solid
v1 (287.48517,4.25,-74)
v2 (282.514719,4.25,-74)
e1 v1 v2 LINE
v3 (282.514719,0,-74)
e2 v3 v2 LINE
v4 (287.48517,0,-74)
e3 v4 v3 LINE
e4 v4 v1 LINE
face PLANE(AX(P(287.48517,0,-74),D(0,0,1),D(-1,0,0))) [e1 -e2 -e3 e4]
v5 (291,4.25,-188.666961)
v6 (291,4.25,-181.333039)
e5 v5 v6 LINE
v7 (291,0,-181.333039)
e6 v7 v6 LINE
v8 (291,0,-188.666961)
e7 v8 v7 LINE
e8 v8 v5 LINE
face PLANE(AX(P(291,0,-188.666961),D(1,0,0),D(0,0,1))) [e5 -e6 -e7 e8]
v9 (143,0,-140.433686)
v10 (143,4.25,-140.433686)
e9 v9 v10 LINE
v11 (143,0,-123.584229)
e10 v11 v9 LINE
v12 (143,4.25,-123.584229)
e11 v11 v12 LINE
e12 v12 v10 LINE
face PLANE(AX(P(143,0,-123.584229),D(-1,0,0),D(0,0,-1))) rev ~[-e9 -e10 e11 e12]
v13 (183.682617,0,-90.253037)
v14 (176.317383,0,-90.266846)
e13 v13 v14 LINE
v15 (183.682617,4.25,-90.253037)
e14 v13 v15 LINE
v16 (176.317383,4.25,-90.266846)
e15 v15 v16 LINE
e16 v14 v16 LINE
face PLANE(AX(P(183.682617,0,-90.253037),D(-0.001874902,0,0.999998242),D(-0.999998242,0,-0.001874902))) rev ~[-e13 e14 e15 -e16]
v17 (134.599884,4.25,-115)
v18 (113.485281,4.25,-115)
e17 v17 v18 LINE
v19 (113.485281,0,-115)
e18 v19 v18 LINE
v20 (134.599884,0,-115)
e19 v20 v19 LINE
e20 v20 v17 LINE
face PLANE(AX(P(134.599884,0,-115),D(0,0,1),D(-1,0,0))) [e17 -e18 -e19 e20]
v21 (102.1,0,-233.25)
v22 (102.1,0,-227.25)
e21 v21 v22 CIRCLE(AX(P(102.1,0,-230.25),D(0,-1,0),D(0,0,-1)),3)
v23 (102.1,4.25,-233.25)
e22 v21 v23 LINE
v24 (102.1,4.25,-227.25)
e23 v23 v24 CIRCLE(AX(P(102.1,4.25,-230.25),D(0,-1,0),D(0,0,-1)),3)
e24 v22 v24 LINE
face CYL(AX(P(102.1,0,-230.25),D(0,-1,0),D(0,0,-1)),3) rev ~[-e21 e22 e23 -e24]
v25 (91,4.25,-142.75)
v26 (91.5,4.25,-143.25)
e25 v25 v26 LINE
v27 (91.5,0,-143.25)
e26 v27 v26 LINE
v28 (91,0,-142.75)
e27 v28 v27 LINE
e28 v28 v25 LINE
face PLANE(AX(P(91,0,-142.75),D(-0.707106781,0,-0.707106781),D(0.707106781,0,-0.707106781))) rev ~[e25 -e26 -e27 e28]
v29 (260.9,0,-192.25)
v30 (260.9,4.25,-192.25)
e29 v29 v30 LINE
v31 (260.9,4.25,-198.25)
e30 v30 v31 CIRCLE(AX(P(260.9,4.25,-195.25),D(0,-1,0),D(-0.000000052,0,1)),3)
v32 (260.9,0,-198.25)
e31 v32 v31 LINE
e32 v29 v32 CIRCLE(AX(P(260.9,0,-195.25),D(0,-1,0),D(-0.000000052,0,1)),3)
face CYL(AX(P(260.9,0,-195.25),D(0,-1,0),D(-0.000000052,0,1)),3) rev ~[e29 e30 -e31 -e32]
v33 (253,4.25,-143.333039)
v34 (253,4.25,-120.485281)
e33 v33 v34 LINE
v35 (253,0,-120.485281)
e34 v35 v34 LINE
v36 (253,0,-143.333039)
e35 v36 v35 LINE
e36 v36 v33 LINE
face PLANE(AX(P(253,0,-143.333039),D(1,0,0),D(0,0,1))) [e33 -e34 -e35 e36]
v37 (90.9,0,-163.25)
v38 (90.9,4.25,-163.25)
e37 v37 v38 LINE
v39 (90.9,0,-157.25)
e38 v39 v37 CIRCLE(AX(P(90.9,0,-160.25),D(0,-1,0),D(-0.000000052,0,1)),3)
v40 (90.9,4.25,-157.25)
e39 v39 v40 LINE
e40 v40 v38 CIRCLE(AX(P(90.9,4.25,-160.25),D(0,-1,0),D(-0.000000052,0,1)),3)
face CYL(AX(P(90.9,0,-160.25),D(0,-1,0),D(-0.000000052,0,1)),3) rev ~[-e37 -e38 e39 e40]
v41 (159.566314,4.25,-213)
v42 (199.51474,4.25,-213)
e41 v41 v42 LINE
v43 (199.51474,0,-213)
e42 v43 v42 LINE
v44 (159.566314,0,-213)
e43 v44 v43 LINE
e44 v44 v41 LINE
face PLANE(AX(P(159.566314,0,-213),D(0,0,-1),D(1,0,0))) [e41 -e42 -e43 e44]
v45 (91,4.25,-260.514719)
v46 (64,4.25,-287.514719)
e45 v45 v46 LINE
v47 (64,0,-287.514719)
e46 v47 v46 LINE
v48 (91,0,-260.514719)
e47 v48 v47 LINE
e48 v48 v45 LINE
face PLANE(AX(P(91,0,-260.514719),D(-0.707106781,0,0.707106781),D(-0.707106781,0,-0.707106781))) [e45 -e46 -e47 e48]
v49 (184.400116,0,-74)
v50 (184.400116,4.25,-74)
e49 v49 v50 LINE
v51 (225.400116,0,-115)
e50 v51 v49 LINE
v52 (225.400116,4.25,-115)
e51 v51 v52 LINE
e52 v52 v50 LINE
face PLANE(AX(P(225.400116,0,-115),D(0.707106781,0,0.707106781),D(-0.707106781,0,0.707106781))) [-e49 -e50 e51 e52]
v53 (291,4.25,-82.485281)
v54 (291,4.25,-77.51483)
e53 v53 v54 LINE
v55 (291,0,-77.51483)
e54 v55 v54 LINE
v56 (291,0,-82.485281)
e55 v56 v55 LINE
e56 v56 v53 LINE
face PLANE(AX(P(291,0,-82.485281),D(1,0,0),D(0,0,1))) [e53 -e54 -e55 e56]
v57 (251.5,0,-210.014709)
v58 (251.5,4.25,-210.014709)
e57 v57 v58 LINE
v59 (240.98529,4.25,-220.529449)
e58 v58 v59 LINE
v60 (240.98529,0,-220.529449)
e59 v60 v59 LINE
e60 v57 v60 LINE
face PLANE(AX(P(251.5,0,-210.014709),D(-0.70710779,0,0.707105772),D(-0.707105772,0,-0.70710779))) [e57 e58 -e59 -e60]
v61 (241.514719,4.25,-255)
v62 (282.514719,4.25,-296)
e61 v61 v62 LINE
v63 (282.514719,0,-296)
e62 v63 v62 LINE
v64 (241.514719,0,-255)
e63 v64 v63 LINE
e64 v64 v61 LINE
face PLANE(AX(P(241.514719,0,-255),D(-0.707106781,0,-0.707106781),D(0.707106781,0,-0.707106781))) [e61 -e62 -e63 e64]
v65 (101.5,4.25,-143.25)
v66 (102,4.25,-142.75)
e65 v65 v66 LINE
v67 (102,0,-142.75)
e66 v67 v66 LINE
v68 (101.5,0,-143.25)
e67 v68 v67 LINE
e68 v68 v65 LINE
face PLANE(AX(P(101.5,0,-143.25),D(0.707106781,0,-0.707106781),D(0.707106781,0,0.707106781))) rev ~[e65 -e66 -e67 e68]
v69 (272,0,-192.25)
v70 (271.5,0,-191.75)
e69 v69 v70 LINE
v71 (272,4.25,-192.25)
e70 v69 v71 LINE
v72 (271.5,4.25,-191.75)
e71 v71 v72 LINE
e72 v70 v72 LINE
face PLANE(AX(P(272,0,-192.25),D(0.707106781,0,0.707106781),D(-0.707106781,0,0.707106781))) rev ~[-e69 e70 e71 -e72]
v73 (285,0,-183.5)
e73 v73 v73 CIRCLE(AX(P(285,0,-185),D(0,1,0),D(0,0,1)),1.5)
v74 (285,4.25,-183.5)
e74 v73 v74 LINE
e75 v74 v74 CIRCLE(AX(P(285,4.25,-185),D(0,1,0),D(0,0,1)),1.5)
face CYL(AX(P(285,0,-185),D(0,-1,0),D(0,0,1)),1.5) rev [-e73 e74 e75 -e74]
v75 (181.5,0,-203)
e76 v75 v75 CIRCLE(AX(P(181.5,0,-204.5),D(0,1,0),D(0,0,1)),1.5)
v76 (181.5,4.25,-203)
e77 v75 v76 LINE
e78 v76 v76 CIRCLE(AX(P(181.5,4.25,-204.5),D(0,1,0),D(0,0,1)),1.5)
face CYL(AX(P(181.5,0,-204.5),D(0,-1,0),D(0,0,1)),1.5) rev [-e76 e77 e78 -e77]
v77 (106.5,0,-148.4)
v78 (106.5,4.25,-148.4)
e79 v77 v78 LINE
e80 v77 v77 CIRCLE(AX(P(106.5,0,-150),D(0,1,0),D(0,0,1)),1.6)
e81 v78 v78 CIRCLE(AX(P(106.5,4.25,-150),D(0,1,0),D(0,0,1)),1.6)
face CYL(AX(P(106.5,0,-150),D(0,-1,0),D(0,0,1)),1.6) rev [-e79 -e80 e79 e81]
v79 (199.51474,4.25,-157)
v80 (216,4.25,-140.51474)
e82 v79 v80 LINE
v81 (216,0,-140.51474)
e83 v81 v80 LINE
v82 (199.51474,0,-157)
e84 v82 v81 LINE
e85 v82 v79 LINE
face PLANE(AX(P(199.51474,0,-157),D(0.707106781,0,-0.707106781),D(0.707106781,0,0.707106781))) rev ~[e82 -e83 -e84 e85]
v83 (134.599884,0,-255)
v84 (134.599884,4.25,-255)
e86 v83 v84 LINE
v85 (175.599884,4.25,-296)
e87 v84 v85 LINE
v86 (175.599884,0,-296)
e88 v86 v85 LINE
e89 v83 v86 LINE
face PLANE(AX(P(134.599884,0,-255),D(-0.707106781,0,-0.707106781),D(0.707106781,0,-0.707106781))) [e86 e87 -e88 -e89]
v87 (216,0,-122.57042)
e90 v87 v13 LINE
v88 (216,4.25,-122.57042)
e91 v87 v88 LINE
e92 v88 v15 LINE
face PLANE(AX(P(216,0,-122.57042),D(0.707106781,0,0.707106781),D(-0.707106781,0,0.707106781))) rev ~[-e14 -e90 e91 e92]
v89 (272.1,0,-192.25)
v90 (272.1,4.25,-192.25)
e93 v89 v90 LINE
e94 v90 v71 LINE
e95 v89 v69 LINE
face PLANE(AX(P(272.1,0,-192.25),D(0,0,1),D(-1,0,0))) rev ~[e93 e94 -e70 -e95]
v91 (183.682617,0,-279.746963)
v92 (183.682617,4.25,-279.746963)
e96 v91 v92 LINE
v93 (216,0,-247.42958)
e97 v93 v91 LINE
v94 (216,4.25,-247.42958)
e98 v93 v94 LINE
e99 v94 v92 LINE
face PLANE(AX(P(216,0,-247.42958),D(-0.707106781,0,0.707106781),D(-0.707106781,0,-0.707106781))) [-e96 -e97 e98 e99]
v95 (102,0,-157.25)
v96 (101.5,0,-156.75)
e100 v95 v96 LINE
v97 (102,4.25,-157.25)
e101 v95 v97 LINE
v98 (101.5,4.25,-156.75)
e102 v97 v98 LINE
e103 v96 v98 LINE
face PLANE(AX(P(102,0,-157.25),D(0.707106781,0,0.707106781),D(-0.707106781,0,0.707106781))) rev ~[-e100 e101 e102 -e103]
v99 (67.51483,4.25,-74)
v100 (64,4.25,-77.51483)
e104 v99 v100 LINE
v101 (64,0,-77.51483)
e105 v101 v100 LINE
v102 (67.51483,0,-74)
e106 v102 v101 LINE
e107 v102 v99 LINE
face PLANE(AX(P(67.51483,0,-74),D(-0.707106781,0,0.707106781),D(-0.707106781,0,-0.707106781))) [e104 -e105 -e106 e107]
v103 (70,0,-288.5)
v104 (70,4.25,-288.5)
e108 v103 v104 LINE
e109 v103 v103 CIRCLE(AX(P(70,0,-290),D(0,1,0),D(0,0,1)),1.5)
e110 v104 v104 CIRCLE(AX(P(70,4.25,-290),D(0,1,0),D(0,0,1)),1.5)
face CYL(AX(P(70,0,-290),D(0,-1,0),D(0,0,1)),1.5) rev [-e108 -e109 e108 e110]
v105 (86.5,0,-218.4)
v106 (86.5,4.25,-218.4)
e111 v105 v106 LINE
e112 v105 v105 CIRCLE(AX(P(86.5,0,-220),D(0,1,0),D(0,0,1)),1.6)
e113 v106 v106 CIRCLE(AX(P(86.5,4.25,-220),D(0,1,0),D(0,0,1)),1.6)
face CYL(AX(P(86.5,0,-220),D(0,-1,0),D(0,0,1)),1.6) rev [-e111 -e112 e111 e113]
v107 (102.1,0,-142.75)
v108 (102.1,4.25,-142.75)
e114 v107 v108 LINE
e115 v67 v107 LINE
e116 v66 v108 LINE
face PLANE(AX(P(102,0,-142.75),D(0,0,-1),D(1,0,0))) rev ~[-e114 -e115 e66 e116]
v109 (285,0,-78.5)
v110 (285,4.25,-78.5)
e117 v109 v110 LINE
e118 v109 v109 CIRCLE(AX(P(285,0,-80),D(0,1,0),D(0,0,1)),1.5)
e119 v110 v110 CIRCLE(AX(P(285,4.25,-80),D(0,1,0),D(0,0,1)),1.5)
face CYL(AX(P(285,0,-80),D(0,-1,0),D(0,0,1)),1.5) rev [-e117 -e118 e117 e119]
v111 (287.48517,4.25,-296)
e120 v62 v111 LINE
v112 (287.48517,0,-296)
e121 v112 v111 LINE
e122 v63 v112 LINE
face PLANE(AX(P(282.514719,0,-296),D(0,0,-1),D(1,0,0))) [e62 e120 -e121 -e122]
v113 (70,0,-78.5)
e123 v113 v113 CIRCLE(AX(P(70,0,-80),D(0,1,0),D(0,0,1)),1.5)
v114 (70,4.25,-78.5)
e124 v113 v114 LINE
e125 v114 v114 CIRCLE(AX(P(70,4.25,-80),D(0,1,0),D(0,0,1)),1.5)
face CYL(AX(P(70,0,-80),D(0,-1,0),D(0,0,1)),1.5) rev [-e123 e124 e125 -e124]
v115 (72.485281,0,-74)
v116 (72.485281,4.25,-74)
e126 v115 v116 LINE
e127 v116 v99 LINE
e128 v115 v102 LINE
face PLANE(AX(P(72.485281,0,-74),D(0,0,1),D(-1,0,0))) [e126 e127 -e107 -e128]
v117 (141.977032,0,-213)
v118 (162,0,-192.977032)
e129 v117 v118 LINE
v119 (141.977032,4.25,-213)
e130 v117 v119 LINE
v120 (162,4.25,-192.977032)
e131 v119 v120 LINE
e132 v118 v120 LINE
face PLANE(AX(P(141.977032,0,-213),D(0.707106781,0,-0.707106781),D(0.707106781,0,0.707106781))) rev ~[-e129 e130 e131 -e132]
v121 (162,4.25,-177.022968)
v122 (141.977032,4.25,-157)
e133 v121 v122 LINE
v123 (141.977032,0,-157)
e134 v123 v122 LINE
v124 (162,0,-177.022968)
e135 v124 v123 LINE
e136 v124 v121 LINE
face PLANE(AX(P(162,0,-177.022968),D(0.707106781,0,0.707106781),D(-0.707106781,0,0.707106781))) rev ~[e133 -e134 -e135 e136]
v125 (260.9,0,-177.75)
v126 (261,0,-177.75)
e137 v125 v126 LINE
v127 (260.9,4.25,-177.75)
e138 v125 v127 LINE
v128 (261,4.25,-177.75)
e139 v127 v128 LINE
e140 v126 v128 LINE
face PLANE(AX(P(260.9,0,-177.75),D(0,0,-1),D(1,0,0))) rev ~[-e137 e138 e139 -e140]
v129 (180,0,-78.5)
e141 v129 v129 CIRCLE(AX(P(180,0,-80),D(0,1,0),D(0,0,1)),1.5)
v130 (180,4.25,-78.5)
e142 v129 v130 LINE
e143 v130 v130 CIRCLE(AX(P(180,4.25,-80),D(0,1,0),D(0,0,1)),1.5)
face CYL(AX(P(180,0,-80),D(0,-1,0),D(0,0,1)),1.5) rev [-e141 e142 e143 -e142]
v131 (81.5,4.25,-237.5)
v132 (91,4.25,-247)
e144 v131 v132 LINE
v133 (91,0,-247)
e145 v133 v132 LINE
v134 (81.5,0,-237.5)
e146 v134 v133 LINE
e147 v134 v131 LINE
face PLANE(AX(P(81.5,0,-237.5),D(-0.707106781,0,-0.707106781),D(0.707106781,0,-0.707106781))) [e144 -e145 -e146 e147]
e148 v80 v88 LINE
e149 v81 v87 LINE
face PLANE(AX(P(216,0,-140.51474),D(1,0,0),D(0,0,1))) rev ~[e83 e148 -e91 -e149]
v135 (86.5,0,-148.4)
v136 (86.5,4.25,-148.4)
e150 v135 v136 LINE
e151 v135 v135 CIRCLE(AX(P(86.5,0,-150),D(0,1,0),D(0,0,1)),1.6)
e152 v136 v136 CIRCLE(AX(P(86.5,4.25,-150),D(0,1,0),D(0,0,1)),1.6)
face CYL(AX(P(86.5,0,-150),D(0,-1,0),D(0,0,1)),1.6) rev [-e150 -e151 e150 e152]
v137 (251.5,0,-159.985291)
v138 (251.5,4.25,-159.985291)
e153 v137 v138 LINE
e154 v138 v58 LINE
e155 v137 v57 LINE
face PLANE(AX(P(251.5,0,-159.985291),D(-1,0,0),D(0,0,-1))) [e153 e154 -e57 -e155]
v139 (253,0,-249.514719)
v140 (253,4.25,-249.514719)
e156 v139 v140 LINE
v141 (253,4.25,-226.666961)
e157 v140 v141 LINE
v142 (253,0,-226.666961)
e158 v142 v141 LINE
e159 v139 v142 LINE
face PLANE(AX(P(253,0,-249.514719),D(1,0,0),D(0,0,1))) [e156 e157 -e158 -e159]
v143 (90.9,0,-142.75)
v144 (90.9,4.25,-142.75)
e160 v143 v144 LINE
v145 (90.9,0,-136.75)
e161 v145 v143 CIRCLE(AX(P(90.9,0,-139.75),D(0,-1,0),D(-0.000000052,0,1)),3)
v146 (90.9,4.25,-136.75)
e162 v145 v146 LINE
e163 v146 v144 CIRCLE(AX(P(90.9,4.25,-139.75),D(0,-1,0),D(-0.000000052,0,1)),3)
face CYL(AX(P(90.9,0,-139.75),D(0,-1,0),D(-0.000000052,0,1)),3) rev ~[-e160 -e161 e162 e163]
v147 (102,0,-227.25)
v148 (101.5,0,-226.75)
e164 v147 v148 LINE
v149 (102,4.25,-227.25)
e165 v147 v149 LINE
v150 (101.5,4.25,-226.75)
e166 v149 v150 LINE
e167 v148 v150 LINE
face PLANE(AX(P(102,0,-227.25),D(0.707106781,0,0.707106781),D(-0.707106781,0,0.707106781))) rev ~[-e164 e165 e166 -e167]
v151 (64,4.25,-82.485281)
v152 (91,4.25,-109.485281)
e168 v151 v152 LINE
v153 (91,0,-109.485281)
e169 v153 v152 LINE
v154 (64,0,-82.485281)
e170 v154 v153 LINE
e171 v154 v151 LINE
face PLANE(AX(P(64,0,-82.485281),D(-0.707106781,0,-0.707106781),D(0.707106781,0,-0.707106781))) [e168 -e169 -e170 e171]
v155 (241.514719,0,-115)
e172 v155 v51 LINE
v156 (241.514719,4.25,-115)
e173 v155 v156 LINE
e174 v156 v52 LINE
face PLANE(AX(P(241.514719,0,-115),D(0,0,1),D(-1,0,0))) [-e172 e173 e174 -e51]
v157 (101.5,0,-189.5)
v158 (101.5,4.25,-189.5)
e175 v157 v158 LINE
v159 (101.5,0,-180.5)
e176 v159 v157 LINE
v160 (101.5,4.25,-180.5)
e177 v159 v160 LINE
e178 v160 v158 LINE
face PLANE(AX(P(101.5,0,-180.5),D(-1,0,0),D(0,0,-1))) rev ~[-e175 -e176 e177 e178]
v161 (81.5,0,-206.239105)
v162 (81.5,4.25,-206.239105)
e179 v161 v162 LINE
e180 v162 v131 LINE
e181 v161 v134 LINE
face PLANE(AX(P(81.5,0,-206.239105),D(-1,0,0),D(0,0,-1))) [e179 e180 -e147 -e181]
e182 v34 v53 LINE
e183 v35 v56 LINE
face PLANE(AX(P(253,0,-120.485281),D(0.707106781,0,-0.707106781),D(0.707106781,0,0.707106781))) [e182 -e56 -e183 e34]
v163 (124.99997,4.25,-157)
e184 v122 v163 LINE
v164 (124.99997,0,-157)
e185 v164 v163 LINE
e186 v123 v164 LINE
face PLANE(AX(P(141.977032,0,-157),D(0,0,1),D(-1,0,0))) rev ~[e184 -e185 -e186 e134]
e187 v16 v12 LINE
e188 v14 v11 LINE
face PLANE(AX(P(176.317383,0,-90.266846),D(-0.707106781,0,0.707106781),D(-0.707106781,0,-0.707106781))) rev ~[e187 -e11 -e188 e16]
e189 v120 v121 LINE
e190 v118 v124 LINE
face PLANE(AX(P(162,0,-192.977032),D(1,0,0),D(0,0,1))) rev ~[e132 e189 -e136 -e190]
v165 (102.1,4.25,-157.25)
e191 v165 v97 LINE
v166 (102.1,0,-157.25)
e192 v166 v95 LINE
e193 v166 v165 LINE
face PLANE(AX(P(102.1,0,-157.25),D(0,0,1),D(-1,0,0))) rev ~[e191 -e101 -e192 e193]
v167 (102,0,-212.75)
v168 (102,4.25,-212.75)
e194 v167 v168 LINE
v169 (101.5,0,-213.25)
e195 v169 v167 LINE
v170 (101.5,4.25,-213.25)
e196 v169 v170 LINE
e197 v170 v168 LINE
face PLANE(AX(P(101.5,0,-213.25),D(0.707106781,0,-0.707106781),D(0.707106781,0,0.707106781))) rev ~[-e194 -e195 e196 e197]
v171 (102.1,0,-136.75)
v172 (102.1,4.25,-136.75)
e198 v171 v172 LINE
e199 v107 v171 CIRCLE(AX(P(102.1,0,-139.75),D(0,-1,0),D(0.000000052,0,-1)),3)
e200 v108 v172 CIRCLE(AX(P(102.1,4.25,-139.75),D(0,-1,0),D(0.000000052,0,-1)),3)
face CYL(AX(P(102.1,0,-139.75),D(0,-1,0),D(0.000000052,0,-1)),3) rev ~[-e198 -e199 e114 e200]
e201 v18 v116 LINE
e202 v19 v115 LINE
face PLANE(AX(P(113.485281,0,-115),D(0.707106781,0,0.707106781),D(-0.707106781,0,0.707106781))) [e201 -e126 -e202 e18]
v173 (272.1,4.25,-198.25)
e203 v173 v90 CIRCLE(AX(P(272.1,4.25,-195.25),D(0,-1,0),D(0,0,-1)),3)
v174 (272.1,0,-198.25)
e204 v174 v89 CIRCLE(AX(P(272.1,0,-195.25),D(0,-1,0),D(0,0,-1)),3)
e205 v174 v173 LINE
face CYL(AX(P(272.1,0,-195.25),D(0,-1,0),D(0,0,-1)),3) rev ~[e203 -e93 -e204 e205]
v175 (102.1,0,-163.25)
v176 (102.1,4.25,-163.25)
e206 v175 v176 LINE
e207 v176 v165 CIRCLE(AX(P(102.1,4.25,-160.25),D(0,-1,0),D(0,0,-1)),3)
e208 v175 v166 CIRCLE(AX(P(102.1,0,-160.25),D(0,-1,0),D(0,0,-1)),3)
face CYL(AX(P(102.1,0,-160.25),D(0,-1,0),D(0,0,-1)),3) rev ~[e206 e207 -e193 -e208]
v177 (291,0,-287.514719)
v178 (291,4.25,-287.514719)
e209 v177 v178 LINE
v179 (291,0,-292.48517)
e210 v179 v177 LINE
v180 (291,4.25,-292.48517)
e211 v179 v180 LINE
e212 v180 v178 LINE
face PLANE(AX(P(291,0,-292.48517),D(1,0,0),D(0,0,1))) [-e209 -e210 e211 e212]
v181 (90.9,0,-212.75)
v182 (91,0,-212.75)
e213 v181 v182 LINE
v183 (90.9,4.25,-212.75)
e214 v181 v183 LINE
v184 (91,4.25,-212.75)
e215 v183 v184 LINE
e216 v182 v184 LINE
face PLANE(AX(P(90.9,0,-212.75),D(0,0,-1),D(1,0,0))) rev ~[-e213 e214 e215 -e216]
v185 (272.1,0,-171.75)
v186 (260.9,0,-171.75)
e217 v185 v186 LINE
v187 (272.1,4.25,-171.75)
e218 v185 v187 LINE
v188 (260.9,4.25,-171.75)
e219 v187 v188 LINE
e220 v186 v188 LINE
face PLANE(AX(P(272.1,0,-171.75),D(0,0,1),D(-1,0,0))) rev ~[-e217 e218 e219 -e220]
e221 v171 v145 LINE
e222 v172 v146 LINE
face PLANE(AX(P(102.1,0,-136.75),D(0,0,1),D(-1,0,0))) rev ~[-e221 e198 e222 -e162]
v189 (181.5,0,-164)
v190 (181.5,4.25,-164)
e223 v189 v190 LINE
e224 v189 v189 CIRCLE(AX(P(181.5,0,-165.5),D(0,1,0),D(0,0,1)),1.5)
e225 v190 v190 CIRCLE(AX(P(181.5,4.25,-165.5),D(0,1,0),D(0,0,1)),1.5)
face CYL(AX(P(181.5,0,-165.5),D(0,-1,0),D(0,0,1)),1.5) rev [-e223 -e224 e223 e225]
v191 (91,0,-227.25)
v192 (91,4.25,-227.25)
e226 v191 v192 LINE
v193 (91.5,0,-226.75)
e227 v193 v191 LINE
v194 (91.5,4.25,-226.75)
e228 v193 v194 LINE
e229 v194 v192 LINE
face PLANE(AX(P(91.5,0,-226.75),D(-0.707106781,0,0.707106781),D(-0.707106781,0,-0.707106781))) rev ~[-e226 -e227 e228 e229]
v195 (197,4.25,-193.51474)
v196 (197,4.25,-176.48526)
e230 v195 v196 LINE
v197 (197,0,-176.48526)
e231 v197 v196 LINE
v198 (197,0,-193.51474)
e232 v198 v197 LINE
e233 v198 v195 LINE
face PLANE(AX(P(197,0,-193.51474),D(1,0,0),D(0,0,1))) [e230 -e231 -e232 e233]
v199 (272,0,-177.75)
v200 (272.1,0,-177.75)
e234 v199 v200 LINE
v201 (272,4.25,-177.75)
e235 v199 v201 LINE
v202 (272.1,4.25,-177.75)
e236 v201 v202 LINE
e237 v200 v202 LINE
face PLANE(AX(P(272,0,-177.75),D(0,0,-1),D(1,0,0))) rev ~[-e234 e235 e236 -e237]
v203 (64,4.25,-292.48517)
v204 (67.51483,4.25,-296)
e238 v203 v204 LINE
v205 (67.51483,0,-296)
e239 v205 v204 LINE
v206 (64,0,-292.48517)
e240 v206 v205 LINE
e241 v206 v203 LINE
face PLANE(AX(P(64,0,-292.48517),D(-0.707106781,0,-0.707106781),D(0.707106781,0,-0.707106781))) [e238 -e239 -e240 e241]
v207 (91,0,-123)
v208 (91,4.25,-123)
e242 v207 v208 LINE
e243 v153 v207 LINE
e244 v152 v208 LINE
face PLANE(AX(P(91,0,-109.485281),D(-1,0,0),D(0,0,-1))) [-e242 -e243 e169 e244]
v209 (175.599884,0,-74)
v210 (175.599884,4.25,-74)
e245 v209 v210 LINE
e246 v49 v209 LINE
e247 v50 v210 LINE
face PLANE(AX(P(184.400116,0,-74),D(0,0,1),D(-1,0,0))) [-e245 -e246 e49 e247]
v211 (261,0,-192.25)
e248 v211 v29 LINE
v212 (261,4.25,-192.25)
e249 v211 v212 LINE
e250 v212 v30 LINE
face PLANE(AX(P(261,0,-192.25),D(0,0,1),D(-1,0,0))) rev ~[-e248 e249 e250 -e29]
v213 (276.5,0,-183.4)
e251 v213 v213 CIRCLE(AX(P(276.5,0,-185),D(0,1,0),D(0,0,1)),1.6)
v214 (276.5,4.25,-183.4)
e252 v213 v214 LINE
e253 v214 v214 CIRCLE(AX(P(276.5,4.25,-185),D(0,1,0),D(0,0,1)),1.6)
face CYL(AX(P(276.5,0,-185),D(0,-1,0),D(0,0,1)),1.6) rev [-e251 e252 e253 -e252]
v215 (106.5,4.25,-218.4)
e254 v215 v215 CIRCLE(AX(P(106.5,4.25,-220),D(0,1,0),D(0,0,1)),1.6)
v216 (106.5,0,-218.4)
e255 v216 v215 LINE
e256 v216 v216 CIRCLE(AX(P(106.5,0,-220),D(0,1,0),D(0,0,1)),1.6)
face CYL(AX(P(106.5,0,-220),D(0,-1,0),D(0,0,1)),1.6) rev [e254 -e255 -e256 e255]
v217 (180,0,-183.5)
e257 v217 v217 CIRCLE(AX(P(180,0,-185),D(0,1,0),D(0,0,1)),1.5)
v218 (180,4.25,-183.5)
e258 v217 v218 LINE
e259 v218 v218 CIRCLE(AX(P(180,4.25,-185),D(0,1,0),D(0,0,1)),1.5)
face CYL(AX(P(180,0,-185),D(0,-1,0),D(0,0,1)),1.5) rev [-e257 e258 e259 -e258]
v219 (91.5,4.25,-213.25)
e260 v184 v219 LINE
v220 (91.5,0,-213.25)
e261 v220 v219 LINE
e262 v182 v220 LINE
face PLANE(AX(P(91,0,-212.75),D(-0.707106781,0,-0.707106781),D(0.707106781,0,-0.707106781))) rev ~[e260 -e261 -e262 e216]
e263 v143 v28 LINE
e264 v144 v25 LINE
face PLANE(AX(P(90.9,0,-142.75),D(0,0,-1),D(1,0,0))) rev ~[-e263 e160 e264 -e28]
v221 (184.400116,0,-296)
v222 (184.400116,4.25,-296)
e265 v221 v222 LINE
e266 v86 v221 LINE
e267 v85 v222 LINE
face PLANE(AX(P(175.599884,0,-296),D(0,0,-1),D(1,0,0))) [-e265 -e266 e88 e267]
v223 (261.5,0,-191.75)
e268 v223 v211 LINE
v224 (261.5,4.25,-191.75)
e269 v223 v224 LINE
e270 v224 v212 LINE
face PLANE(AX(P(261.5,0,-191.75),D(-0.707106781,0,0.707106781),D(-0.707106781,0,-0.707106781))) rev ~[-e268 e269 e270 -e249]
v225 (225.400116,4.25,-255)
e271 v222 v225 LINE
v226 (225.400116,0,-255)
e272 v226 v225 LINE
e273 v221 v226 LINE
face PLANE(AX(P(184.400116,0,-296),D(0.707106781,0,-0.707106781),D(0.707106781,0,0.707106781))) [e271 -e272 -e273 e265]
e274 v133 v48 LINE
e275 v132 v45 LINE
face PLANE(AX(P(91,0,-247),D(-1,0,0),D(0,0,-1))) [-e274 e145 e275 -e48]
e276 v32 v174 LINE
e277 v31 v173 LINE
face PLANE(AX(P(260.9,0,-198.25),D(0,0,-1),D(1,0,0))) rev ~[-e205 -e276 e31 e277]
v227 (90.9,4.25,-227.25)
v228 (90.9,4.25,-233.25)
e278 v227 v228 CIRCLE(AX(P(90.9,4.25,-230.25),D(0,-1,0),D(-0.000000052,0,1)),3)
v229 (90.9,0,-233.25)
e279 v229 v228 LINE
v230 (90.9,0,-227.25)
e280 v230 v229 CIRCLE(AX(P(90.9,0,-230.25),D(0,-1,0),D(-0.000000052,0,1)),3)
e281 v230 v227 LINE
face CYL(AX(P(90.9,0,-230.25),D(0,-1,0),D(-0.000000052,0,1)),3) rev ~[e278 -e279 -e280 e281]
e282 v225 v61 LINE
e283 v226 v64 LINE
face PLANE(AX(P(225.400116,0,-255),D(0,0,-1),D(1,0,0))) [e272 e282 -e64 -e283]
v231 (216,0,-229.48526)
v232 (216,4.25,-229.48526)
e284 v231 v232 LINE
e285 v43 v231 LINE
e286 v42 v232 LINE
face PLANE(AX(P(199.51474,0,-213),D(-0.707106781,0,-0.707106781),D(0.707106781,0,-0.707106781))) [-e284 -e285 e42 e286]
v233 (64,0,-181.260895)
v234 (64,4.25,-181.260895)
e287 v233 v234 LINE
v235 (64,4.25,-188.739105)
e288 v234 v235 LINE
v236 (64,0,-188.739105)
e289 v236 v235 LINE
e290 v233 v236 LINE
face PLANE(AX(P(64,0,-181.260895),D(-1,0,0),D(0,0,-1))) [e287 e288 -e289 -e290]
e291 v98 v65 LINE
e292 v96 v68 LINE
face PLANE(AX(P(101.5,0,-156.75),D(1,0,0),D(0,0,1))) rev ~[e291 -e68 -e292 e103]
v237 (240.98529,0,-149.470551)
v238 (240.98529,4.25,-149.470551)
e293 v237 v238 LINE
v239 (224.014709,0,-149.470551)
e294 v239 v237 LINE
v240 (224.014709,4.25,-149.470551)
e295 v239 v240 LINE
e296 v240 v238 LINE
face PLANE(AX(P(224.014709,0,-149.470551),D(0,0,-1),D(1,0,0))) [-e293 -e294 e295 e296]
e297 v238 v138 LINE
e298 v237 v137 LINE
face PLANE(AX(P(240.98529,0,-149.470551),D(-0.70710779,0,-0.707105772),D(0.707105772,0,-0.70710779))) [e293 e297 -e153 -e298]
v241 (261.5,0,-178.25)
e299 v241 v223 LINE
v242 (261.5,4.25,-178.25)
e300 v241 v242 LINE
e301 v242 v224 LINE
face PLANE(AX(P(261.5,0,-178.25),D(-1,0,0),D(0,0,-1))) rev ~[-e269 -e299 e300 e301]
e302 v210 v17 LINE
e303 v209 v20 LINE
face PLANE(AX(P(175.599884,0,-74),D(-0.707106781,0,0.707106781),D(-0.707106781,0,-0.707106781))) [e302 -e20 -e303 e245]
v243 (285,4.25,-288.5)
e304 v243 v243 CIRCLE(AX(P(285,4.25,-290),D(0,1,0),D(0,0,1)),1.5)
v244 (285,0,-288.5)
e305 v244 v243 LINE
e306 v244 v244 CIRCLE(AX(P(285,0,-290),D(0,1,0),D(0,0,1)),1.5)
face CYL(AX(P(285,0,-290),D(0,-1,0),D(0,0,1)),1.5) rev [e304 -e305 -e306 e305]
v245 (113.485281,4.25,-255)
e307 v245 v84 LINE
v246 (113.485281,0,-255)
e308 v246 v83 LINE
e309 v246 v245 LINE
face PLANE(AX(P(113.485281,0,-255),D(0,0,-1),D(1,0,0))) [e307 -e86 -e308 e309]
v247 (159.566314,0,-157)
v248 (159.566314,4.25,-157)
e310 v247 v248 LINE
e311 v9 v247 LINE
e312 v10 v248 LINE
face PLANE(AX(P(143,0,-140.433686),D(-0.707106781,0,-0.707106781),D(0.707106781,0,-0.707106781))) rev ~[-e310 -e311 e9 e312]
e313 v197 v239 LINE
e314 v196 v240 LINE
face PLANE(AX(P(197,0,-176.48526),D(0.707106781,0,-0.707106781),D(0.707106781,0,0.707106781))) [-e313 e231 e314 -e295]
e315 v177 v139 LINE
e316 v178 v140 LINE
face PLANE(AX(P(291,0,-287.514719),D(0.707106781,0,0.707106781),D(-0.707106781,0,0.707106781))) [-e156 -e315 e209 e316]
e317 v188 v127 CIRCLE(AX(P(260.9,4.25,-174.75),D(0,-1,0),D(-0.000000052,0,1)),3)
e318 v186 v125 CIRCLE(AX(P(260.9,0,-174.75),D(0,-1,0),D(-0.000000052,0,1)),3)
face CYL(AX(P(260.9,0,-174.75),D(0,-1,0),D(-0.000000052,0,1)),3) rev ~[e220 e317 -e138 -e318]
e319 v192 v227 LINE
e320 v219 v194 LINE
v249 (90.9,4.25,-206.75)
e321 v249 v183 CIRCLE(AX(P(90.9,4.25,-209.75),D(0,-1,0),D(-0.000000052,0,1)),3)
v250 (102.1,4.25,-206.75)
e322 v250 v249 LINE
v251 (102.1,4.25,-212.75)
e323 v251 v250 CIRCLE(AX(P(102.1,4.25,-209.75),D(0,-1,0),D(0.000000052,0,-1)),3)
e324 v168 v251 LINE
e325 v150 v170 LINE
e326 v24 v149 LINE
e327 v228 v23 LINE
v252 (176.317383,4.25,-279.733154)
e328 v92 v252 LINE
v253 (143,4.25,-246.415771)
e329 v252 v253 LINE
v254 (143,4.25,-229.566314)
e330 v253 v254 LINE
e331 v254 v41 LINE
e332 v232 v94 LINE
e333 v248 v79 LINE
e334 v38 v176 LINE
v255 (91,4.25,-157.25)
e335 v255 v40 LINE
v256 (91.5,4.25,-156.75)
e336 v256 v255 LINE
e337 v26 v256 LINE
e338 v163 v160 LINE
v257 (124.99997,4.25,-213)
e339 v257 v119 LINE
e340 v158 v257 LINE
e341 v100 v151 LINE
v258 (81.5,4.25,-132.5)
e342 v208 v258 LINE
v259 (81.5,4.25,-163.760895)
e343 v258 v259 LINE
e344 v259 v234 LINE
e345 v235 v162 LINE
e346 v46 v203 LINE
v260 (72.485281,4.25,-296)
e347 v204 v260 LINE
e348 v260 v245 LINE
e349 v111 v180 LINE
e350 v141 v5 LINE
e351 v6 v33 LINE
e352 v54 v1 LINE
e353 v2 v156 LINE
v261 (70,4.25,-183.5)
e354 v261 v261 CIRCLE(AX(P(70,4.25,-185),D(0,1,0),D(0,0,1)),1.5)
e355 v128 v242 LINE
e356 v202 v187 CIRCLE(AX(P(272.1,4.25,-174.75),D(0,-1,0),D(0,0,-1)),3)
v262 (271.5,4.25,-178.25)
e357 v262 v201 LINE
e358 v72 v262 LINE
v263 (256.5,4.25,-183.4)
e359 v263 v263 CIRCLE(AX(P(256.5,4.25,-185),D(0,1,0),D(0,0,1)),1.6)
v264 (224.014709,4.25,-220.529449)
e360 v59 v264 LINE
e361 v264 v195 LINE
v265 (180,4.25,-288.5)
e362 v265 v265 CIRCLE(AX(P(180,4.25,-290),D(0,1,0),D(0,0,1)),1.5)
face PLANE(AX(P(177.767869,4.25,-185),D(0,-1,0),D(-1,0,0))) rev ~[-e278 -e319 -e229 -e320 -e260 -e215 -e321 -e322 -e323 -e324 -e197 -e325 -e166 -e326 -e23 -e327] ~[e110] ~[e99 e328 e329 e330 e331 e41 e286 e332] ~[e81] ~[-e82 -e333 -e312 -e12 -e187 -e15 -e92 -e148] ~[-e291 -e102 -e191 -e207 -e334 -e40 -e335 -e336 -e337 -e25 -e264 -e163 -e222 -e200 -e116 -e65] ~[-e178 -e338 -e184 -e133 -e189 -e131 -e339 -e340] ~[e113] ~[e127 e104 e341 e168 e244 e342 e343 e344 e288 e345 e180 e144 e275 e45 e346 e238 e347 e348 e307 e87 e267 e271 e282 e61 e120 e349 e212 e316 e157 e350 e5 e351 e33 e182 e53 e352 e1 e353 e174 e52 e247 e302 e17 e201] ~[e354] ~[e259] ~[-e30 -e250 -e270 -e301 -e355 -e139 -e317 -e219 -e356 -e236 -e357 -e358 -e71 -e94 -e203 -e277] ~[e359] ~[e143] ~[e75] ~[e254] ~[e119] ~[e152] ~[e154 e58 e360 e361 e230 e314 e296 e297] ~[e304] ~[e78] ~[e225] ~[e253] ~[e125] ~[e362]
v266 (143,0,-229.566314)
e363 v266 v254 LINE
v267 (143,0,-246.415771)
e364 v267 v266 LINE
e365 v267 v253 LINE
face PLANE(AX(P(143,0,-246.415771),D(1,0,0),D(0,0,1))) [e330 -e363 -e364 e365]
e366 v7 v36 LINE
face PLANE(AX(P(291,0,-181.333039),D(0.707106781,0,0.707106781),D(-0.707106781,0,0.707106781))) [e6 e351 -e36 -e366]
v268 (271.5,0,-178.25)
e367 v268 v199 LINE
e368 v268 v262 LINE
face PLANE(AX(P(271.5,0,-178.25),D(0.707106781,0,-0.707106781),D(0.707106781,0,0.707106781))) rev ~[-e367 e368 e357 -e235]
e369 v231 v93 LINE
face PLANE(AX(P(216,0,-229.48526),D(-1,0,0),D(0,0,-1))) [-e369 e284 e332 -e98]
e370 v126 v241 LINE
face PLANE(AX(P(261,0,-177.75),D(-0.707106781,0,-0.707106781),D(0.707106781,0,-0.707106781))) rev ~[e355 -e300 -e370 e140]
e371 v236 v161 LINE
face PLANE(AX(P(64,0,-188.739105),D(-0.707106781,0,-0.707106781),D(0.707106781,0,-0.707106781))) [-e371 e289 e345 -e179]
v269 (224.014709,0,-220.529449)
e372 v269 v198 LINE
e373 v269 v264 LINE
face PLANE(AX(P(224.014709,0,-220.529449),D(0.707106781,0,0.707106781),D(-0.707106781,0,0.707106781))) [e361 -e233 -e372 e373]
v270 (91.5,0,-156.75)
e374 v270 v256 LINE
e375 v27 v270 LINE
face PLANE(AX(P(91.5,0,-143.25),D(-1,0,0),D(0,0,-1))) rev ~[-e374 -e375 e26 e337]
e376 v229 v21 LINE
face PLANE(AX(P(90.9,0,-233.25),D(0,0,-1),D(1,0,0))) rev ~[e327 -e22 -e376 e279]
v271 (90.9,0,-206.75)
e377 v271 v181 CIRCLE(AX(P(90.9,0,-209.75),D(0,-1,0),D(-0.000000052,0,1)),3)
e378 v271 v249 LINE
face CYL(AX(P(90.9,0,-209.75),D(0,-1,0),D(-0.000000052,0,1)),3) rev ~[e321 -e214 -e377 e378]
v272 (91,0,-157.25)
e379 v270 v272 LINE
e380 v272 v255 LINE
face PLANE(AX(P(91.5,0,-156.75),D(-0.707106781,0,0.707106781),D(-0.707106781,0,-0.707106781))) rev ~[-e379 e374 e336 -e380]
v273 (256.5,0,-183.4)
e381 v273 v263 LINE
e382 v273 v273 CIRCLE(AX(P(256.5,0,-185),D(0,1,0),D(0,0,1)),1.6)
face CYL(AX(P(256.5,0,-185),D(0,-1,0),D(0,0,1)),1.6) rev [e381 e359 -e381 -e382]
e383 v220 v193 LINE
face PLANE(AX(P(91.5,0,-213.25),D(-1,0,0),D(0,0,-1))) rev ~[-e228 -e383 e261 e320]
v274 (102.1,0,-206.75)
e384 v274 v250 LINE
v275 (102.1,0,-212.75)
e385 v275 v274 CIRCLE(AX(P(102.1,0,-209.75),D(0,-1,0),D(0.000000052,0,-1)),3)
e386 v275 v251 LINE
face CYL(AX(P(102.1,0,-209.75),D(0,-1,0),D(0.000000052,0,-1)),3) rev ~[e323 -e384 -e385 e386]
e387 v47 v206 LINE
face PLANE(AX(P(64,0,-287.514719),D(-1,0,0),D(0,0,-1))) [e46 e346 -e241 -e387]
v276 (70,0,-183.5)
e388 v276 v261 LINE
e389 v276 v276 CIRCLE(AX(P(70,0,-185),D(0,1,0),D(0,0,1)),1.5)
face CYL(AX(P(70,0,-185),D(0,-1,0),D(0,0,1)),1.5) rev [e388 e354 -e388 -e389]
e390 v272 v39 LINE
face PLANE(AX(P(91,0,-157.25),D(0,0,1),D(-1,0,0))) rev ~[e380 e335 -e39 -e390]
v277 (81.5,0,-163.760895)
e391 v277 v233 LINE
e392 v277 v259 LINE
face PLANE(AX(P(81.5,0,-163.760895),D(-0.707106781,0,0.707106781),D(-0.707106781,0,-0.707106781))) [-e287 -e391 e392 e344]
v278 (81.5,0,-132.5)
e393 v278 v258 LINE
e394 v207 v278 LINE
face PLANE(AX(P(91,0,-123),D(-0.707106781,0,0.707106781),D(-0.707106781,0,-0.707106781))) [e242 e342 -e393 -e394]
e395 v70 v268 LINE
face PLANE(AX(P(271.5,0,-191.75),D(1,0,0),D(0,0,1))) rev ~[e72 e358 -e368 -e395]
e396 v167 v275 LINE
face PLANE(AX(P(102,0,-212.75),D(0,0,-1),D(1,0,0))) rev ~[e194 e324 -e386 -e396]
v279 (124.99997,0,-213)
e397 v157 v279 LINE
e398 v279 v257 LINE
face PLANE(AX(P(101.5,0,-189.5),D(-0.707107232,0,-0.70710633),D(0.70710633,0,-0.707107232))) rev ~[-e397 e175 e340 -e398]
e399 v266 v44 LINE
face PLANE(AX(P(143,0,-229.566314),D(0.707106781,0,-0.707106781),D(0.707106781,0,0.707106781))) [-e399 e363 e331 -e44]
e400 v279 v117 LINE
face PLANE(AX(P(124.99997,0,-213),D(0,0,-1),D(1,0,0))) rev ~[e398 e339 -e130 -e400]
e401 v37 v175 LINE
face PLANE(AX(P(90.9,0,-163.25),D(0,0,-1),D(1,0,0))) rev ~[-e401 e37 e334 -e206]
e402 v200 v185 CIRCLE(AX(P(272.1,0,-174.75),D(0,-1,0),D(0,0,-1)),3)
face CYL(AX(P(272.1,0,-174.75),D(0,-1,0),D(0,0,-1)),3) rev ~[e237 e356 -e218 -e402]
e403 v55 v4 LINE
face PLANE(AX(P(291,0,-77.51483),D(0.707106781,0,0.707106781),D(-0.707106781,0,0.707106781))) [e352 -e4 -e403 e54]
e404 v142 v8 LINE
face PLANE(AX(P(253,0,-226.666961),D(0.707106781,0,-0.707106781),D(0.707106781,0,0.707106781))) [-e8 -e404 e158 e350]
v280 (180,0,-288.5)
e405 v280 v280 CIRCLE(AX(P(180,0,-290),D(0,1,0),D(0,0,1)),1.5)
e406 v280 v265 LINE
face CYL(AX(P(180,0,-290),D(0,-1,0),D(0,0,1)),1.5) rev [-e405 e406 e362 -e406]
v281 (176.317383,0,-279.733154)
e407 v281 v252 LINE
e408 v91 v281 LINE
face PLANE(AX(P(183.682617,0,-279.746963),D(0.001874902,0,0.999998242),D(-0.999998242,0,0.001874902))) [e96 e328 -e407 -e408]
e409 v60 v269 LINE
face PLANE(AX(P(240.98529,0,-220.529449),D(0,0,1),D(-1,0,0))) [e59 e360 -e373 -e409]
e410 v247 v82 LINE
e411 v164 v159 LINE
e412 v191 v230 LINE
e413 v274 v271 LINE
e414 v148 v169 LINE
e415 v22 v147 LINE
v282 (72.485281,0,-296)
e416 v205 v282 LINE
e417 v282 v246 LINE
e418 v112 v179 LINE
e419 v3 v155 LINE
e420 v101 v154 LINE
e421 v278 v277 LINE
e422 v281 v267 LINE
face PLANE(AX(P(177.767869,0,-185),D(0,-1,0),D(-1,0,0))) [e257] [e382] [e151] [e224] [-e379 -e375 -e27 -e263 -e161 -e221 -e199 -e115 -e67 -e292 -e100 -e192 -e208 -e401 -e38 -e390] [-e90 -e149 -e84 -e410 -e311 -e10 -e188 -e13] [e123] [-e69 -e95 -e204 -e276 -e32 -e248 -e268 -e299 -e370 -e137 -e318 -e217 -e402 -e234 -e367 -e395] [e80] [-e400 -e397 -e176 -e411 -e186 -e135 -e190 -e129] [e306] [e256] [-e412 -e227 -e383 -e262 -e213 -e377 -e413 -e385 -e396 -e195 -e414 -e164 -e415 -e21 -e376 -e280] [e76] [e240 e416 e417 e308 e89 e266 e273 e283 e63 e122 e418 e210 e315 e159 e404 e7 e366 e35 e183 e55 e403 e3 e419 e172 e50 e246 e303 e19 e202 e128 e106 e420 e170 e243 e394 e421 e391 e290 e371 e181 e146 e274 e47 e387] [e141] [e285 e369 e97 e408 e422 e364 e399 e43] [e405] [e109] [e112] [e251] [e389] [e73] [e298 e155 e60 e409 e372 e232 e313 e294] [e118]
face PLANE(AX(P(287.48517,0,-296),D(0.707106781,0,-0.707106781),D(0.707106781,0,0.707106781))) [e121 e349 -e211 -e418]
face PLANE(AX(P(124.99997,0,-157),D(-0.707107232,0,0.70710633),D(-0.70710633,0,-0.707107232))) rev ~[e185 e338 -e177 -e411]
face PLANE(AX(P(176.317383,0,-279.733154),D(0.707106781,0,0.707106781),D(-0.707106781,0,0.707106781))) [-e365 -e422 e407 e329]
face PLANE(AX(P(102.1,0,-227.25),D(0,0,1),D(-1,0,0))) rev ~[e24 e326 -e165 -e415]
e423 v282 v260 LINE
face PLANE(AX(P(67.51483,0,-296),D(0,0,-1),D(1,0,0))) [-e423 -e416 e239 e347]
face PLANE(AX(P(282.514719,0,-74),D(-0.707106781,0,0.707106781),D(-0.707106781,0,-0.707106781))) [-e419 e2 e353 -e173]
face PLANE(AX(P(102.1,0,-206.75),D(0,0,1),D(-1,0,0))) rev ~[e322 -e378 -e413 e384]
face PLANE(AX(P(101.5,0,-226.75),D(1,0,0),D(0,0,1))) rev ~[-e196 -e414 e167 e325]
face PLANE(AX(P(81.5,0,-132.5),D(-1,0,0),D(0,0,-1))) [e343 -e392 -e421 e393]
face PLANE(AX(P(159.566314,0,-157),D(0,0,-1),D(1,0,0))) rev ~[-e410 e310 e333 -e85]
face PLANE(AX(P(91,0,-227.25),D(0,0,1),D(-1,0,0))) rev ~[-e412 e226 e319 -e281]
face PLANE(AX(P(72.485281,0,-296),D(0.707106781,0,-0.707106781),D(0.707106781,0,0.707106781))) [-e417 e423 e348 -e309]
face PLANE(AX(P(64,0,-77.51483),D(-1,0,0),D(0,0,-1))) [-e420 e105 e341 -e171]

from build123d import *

# Parameters (mm, degrees)
SKETCH2_R           = 1.5
SKETCH2_R_2         = 1.6
BOSS_EXTRUDE2_DEPTH = 4.25


with BuildPart() as part:
    # Sketch2 → Boss-Extrude2 (new body)
    with BuildSketch(Plane(origin=(0, 0, 0), x_dir=(1, 0, 0), z_dir=(0, 1, 0))):
        Polygon((184.400116, 296), (225.400116, 255), (241.514718626, 255), (282.514718626, 296), (287.485169777, 296), (291, 292.485169777), (291, 287.514718626), (253, 249.514718626), (253, 226.666961), (291, 188.666961), (291, 181.333039), (253, 143.333039), (253, 120.485281374), (291, 82.485281374), (291, 77.514830223), (287.485169777, 74), (282.514718626, 74), (241.514718626, 115), (225.400116, 115), (184.400116, 74), (175.599884, 74), (134.599884, 115), (113.485281374, 115), (72.485281374, 74), (67.514830223, 74), (64, 77.514830223), (64, 82.485281374), (91, 109.485281374), (91, 123), (81.5, 132.5), (81.5, 163.760895), (64, 181.260895), (64, 188.739105), (81.5, 206.239105), (81.5, 237.5), (91, 247), (91, 260.514718626), (64, 287.514718626), (64, 292.485169777), (67.514830223, 296), (72.485281374, 296), (113.485281374, 255), (134.599884, 255), (175.599884, 296), align=None)
        with Locations(Location((180, 80, 0), (0, 0, 270))):
            Circle(SKETCH2_R, mode=Mode.SUBTRACT)
        with Locations(Location((180, 290, 0), (0, 0, 270))):
            Circle(SKETCH2_R, mode=Mode.SUBTRACT)
        with Locations(Location((285, 80, 0), (0, 0, 270))):
            Circle(SKETCH2_R, mode=Mode.SUBTRACT)
        with Locations(Location((70, 290, 0), (0, 0, 270))):
            Circle(SKETCH2_R, mode=Mode.SUBTRACT)
        with Locations(Location((285, 290, 0), (0, 0, 270))):
            Circle(SKETCH2_R, mode=Mode.SUBTRACT)
        with Locations(Location((70, 185, 0), (0, 0, 270))):
            Circle(SKETCH2_R, mode=Mode.SUBTRACT)
        with Locations(Location((180, 185, 0), (0, 0, 270))):
            Circle(SKETCH2_R, mode=Mode.SUBTRACT)
        with Locations(Location((285, 185, 0), (0, 0, 270))):
            Circle(SKETCH2_R, mode=Mode.SUBTRACT)
        with Locations(Location((256.5, 185, 0), (0, 0, 270))):
            Circle(SKETCH2_R_2, mode=Mode.SUBTRACT)
        with Locations(Location((276.5, 185, 0), (0, 0, 270))):
            Circle(SKETCH2_R_2, mode=Mode.SUBTRACT)
        with Locations(Location((106.5, 220, 0), (0, 0, 270))):
            Circle(SKETCH2_R_2, mode=Mode.SUBTRACT)
        with Locations(Location((106.5, 150, 0), (0, 0, 270))):
            Circle(SKETCH2_R_2, mode=Mode.SUBTRACT)
        with Locations(Location((86.5, 220, 0), (0, 0, 270))):
            Circle(SKETCH2_R_2, mode=Mode.SUBTRACT)
        with Locations(Location((86.5, 150, 0), (0, 0, 270))):
            Circle(SKETCH2_R_2, mode=Mode.SUBTRACT)
        with Locations(Location((70, 80, 0), (0, 0, 270))):
            Circle(SKETCH2_R, mode=Mode.SUBTRACT)
        with Locations(Location((181.5, 165.5, 0), (0, 0, 270))):
            Circle(SKETCH2_R, mode=Mode.SUBTRACT)
        with Locations(Location((181.5, 204.5, 0), (0, 0, 270))):
            Circle(SKETCH2_R, mode=Mode.SUBTRACT)
        Polygon((162, 177.02296782), (141.97703218, 157), (124.999970007, 157), (101.5, 180.5), (101.5, 189.5), (124.999970007, 213), (141.97703218, 213), (162, 192.97703218), align=None, mode=Mode.SUBTRACT)
        Polygon((251.5, 210.014709), (240.98529, 220.529449), (224.014709, 220.529449), (197, 193.51474), (197, 176.48526), (224.014709, 149.470551), (240.98529, 149.470551), (251.5, 159.985291), align=None, mode=Mode.SUBTRACT)
        Polygon((143, 246.415771), (143, 229.566314), (159.566314, 213), (199.51474, 213), (216, 229.48526), (216, 247.429580116), (183.682617, 279.746963116), (176.317383, 279.733154), align=None, mode=Mode.SUBTRACT)
        Polygon((143, 123.584229), (143, 140.433686), (159.566314, 157), (199.51474, 157), (216, 140.51474), (216, 122.570419884), (183.682617, 90.253036884), (176.317383, 90.266846), align=None, mode=Mode.SUBTRACT)
        with BuildLine():
            Line((101.500000013, 226.75), (101.500000013, 213.25))
            Line((101.500000013, 213.25), (102.000000013, 212.75))
            Line((102.000000013, 212.75), (102.100000157, 212.75))
            ThreePointArc((102.100000157, 212.75), (105.1, 209.75), (102.100000157, 206.75))
            Line((102.100000157, 206.75), (90.899999843, 206.75))
            ThreePointArc((90.899999843, 206.75), (87.9, 209.75), (90.899999843, 212.75))
            Line((90.899999843, 212.75), (90.999999987, 212.75))
            Line((90.999999987, 212.75), (91.499999987, 213.25))
            Line((91.499999987, 213.25), (91.499999987, 226.75))
            Line((91.499999987, 226.75), (90.999999987, 227.25))
            Line((90.999999987, 227.25), (90.899999843, 227.25))
            ThreePointArc((90.899999843, 227.25), (87.9, 230.25), (90.899999843, 233.25))
            Line((90.899999843, 233.25), (102.100000157, 233.25))
            ThreePointArc((102.100000157, 233.25), (105.100000157, 230.25), (102.100000157, 227.25))
            Line((102.100000157, 227.25), (102.000000013, 227.25))
            Line((102.000000013, 227.25), (101.500000013, 226.75))
        make_face(mode=Mode.SUBTRACT)
        with BuildLine():
            Line((271.500000013, 191.75), (271.500000013, 178.25))
            Line((271.500000013, 178.25), (272.000000013, 177.75))
            Line((272.000000013, 177.75), (272.100000157, 177.75))
            ThreePointArc((272.100000157, 177.75), (275.100000157, 174.75), (272.100000157, 171.75))
            Line((272.100000157, 171.75), (260.899999843, 171.75))
            ThreePointArc((260.899999843, 171.75), (257.9, 174.75), (260.899999843, 177.75))
            Line((260.899999843, 177.75), (260.999999987, 177.75))
            Line((260.999999987, 177.75), (261.499999987, 178.25))
            Line((261.499999987, 178.25), (261.499999987, 191.75))
            Line((261.499999987, 191.75), (260.999999987, 192.25))
            Line((260.999999987, 192.25), (260.899999843, 192.25))
            ThreePointArc((260.899999843, 192.25), (257.9, 195.25), (260.899999843, 198.25))
            Line((260.899999843, 198.25), (272.100000157, 198.25))
            ThreePointArc((272.100000157, 198.25), (275.100000157, 195.25), (272.100000157, 192.25))
            Line((272.100000157, 192.25), (272.000000013, 192.25))
            Line((272.000000013, 192.25), (271.500000013, 191.75))
        make_face(mode=Mode.SUBTRACT)
        with BuildLine():
            Line((101.500000013, 156.75), (101.500000013, 143.25))
            Line((101.500000013, 143.25), (102.000000013, 142.75))
            Line((102.000000013, 142.75), (102.100000157, 142.75))
            ThreePointArc((102.100000157, 142.75), (105.1, 139.75), (102.100000157, 136.75))
            Line((102.100000157, 136.75), (90.899999843, 136.75))
            ThreePointArc((90.899999843, 136.75), (87.9, 139.75), (90.899999843, 142.75))
            Line((90.899999843, 142.75), (90.999999987, 142.75))
            Line((90.999999987, 142.75), (91.499999987, 143.25))
            Line((91.499999987, 143.25), (91.499999987, 156.75))
            Line((91.499999987, 156.75), (90.999999987, 157.25))
            Line((90.999999987, 157.25), (90.899999843, 157.25))
            ThreePointArc((90.899999843, 157.25), (87.9, 160.25), (90.899999843, 163.25))
            Line((90.899999843, 163.25), (102.100000157, 163.25))
            ThreePointArc((102.100000157, 163.25), (105.100000157, 160.25), (102.100000157, 157.25))
            Line((102.100000157, 157.25), (102.000000013, 157.25))
            Line((102.000000013, 157.25), (101.500000013, 156.75))
        make_face(mode=Mode.SUBTRACT)
    extrude(amount=BOSS_EXTRUDE2_DEPTH)


solid = part.part
